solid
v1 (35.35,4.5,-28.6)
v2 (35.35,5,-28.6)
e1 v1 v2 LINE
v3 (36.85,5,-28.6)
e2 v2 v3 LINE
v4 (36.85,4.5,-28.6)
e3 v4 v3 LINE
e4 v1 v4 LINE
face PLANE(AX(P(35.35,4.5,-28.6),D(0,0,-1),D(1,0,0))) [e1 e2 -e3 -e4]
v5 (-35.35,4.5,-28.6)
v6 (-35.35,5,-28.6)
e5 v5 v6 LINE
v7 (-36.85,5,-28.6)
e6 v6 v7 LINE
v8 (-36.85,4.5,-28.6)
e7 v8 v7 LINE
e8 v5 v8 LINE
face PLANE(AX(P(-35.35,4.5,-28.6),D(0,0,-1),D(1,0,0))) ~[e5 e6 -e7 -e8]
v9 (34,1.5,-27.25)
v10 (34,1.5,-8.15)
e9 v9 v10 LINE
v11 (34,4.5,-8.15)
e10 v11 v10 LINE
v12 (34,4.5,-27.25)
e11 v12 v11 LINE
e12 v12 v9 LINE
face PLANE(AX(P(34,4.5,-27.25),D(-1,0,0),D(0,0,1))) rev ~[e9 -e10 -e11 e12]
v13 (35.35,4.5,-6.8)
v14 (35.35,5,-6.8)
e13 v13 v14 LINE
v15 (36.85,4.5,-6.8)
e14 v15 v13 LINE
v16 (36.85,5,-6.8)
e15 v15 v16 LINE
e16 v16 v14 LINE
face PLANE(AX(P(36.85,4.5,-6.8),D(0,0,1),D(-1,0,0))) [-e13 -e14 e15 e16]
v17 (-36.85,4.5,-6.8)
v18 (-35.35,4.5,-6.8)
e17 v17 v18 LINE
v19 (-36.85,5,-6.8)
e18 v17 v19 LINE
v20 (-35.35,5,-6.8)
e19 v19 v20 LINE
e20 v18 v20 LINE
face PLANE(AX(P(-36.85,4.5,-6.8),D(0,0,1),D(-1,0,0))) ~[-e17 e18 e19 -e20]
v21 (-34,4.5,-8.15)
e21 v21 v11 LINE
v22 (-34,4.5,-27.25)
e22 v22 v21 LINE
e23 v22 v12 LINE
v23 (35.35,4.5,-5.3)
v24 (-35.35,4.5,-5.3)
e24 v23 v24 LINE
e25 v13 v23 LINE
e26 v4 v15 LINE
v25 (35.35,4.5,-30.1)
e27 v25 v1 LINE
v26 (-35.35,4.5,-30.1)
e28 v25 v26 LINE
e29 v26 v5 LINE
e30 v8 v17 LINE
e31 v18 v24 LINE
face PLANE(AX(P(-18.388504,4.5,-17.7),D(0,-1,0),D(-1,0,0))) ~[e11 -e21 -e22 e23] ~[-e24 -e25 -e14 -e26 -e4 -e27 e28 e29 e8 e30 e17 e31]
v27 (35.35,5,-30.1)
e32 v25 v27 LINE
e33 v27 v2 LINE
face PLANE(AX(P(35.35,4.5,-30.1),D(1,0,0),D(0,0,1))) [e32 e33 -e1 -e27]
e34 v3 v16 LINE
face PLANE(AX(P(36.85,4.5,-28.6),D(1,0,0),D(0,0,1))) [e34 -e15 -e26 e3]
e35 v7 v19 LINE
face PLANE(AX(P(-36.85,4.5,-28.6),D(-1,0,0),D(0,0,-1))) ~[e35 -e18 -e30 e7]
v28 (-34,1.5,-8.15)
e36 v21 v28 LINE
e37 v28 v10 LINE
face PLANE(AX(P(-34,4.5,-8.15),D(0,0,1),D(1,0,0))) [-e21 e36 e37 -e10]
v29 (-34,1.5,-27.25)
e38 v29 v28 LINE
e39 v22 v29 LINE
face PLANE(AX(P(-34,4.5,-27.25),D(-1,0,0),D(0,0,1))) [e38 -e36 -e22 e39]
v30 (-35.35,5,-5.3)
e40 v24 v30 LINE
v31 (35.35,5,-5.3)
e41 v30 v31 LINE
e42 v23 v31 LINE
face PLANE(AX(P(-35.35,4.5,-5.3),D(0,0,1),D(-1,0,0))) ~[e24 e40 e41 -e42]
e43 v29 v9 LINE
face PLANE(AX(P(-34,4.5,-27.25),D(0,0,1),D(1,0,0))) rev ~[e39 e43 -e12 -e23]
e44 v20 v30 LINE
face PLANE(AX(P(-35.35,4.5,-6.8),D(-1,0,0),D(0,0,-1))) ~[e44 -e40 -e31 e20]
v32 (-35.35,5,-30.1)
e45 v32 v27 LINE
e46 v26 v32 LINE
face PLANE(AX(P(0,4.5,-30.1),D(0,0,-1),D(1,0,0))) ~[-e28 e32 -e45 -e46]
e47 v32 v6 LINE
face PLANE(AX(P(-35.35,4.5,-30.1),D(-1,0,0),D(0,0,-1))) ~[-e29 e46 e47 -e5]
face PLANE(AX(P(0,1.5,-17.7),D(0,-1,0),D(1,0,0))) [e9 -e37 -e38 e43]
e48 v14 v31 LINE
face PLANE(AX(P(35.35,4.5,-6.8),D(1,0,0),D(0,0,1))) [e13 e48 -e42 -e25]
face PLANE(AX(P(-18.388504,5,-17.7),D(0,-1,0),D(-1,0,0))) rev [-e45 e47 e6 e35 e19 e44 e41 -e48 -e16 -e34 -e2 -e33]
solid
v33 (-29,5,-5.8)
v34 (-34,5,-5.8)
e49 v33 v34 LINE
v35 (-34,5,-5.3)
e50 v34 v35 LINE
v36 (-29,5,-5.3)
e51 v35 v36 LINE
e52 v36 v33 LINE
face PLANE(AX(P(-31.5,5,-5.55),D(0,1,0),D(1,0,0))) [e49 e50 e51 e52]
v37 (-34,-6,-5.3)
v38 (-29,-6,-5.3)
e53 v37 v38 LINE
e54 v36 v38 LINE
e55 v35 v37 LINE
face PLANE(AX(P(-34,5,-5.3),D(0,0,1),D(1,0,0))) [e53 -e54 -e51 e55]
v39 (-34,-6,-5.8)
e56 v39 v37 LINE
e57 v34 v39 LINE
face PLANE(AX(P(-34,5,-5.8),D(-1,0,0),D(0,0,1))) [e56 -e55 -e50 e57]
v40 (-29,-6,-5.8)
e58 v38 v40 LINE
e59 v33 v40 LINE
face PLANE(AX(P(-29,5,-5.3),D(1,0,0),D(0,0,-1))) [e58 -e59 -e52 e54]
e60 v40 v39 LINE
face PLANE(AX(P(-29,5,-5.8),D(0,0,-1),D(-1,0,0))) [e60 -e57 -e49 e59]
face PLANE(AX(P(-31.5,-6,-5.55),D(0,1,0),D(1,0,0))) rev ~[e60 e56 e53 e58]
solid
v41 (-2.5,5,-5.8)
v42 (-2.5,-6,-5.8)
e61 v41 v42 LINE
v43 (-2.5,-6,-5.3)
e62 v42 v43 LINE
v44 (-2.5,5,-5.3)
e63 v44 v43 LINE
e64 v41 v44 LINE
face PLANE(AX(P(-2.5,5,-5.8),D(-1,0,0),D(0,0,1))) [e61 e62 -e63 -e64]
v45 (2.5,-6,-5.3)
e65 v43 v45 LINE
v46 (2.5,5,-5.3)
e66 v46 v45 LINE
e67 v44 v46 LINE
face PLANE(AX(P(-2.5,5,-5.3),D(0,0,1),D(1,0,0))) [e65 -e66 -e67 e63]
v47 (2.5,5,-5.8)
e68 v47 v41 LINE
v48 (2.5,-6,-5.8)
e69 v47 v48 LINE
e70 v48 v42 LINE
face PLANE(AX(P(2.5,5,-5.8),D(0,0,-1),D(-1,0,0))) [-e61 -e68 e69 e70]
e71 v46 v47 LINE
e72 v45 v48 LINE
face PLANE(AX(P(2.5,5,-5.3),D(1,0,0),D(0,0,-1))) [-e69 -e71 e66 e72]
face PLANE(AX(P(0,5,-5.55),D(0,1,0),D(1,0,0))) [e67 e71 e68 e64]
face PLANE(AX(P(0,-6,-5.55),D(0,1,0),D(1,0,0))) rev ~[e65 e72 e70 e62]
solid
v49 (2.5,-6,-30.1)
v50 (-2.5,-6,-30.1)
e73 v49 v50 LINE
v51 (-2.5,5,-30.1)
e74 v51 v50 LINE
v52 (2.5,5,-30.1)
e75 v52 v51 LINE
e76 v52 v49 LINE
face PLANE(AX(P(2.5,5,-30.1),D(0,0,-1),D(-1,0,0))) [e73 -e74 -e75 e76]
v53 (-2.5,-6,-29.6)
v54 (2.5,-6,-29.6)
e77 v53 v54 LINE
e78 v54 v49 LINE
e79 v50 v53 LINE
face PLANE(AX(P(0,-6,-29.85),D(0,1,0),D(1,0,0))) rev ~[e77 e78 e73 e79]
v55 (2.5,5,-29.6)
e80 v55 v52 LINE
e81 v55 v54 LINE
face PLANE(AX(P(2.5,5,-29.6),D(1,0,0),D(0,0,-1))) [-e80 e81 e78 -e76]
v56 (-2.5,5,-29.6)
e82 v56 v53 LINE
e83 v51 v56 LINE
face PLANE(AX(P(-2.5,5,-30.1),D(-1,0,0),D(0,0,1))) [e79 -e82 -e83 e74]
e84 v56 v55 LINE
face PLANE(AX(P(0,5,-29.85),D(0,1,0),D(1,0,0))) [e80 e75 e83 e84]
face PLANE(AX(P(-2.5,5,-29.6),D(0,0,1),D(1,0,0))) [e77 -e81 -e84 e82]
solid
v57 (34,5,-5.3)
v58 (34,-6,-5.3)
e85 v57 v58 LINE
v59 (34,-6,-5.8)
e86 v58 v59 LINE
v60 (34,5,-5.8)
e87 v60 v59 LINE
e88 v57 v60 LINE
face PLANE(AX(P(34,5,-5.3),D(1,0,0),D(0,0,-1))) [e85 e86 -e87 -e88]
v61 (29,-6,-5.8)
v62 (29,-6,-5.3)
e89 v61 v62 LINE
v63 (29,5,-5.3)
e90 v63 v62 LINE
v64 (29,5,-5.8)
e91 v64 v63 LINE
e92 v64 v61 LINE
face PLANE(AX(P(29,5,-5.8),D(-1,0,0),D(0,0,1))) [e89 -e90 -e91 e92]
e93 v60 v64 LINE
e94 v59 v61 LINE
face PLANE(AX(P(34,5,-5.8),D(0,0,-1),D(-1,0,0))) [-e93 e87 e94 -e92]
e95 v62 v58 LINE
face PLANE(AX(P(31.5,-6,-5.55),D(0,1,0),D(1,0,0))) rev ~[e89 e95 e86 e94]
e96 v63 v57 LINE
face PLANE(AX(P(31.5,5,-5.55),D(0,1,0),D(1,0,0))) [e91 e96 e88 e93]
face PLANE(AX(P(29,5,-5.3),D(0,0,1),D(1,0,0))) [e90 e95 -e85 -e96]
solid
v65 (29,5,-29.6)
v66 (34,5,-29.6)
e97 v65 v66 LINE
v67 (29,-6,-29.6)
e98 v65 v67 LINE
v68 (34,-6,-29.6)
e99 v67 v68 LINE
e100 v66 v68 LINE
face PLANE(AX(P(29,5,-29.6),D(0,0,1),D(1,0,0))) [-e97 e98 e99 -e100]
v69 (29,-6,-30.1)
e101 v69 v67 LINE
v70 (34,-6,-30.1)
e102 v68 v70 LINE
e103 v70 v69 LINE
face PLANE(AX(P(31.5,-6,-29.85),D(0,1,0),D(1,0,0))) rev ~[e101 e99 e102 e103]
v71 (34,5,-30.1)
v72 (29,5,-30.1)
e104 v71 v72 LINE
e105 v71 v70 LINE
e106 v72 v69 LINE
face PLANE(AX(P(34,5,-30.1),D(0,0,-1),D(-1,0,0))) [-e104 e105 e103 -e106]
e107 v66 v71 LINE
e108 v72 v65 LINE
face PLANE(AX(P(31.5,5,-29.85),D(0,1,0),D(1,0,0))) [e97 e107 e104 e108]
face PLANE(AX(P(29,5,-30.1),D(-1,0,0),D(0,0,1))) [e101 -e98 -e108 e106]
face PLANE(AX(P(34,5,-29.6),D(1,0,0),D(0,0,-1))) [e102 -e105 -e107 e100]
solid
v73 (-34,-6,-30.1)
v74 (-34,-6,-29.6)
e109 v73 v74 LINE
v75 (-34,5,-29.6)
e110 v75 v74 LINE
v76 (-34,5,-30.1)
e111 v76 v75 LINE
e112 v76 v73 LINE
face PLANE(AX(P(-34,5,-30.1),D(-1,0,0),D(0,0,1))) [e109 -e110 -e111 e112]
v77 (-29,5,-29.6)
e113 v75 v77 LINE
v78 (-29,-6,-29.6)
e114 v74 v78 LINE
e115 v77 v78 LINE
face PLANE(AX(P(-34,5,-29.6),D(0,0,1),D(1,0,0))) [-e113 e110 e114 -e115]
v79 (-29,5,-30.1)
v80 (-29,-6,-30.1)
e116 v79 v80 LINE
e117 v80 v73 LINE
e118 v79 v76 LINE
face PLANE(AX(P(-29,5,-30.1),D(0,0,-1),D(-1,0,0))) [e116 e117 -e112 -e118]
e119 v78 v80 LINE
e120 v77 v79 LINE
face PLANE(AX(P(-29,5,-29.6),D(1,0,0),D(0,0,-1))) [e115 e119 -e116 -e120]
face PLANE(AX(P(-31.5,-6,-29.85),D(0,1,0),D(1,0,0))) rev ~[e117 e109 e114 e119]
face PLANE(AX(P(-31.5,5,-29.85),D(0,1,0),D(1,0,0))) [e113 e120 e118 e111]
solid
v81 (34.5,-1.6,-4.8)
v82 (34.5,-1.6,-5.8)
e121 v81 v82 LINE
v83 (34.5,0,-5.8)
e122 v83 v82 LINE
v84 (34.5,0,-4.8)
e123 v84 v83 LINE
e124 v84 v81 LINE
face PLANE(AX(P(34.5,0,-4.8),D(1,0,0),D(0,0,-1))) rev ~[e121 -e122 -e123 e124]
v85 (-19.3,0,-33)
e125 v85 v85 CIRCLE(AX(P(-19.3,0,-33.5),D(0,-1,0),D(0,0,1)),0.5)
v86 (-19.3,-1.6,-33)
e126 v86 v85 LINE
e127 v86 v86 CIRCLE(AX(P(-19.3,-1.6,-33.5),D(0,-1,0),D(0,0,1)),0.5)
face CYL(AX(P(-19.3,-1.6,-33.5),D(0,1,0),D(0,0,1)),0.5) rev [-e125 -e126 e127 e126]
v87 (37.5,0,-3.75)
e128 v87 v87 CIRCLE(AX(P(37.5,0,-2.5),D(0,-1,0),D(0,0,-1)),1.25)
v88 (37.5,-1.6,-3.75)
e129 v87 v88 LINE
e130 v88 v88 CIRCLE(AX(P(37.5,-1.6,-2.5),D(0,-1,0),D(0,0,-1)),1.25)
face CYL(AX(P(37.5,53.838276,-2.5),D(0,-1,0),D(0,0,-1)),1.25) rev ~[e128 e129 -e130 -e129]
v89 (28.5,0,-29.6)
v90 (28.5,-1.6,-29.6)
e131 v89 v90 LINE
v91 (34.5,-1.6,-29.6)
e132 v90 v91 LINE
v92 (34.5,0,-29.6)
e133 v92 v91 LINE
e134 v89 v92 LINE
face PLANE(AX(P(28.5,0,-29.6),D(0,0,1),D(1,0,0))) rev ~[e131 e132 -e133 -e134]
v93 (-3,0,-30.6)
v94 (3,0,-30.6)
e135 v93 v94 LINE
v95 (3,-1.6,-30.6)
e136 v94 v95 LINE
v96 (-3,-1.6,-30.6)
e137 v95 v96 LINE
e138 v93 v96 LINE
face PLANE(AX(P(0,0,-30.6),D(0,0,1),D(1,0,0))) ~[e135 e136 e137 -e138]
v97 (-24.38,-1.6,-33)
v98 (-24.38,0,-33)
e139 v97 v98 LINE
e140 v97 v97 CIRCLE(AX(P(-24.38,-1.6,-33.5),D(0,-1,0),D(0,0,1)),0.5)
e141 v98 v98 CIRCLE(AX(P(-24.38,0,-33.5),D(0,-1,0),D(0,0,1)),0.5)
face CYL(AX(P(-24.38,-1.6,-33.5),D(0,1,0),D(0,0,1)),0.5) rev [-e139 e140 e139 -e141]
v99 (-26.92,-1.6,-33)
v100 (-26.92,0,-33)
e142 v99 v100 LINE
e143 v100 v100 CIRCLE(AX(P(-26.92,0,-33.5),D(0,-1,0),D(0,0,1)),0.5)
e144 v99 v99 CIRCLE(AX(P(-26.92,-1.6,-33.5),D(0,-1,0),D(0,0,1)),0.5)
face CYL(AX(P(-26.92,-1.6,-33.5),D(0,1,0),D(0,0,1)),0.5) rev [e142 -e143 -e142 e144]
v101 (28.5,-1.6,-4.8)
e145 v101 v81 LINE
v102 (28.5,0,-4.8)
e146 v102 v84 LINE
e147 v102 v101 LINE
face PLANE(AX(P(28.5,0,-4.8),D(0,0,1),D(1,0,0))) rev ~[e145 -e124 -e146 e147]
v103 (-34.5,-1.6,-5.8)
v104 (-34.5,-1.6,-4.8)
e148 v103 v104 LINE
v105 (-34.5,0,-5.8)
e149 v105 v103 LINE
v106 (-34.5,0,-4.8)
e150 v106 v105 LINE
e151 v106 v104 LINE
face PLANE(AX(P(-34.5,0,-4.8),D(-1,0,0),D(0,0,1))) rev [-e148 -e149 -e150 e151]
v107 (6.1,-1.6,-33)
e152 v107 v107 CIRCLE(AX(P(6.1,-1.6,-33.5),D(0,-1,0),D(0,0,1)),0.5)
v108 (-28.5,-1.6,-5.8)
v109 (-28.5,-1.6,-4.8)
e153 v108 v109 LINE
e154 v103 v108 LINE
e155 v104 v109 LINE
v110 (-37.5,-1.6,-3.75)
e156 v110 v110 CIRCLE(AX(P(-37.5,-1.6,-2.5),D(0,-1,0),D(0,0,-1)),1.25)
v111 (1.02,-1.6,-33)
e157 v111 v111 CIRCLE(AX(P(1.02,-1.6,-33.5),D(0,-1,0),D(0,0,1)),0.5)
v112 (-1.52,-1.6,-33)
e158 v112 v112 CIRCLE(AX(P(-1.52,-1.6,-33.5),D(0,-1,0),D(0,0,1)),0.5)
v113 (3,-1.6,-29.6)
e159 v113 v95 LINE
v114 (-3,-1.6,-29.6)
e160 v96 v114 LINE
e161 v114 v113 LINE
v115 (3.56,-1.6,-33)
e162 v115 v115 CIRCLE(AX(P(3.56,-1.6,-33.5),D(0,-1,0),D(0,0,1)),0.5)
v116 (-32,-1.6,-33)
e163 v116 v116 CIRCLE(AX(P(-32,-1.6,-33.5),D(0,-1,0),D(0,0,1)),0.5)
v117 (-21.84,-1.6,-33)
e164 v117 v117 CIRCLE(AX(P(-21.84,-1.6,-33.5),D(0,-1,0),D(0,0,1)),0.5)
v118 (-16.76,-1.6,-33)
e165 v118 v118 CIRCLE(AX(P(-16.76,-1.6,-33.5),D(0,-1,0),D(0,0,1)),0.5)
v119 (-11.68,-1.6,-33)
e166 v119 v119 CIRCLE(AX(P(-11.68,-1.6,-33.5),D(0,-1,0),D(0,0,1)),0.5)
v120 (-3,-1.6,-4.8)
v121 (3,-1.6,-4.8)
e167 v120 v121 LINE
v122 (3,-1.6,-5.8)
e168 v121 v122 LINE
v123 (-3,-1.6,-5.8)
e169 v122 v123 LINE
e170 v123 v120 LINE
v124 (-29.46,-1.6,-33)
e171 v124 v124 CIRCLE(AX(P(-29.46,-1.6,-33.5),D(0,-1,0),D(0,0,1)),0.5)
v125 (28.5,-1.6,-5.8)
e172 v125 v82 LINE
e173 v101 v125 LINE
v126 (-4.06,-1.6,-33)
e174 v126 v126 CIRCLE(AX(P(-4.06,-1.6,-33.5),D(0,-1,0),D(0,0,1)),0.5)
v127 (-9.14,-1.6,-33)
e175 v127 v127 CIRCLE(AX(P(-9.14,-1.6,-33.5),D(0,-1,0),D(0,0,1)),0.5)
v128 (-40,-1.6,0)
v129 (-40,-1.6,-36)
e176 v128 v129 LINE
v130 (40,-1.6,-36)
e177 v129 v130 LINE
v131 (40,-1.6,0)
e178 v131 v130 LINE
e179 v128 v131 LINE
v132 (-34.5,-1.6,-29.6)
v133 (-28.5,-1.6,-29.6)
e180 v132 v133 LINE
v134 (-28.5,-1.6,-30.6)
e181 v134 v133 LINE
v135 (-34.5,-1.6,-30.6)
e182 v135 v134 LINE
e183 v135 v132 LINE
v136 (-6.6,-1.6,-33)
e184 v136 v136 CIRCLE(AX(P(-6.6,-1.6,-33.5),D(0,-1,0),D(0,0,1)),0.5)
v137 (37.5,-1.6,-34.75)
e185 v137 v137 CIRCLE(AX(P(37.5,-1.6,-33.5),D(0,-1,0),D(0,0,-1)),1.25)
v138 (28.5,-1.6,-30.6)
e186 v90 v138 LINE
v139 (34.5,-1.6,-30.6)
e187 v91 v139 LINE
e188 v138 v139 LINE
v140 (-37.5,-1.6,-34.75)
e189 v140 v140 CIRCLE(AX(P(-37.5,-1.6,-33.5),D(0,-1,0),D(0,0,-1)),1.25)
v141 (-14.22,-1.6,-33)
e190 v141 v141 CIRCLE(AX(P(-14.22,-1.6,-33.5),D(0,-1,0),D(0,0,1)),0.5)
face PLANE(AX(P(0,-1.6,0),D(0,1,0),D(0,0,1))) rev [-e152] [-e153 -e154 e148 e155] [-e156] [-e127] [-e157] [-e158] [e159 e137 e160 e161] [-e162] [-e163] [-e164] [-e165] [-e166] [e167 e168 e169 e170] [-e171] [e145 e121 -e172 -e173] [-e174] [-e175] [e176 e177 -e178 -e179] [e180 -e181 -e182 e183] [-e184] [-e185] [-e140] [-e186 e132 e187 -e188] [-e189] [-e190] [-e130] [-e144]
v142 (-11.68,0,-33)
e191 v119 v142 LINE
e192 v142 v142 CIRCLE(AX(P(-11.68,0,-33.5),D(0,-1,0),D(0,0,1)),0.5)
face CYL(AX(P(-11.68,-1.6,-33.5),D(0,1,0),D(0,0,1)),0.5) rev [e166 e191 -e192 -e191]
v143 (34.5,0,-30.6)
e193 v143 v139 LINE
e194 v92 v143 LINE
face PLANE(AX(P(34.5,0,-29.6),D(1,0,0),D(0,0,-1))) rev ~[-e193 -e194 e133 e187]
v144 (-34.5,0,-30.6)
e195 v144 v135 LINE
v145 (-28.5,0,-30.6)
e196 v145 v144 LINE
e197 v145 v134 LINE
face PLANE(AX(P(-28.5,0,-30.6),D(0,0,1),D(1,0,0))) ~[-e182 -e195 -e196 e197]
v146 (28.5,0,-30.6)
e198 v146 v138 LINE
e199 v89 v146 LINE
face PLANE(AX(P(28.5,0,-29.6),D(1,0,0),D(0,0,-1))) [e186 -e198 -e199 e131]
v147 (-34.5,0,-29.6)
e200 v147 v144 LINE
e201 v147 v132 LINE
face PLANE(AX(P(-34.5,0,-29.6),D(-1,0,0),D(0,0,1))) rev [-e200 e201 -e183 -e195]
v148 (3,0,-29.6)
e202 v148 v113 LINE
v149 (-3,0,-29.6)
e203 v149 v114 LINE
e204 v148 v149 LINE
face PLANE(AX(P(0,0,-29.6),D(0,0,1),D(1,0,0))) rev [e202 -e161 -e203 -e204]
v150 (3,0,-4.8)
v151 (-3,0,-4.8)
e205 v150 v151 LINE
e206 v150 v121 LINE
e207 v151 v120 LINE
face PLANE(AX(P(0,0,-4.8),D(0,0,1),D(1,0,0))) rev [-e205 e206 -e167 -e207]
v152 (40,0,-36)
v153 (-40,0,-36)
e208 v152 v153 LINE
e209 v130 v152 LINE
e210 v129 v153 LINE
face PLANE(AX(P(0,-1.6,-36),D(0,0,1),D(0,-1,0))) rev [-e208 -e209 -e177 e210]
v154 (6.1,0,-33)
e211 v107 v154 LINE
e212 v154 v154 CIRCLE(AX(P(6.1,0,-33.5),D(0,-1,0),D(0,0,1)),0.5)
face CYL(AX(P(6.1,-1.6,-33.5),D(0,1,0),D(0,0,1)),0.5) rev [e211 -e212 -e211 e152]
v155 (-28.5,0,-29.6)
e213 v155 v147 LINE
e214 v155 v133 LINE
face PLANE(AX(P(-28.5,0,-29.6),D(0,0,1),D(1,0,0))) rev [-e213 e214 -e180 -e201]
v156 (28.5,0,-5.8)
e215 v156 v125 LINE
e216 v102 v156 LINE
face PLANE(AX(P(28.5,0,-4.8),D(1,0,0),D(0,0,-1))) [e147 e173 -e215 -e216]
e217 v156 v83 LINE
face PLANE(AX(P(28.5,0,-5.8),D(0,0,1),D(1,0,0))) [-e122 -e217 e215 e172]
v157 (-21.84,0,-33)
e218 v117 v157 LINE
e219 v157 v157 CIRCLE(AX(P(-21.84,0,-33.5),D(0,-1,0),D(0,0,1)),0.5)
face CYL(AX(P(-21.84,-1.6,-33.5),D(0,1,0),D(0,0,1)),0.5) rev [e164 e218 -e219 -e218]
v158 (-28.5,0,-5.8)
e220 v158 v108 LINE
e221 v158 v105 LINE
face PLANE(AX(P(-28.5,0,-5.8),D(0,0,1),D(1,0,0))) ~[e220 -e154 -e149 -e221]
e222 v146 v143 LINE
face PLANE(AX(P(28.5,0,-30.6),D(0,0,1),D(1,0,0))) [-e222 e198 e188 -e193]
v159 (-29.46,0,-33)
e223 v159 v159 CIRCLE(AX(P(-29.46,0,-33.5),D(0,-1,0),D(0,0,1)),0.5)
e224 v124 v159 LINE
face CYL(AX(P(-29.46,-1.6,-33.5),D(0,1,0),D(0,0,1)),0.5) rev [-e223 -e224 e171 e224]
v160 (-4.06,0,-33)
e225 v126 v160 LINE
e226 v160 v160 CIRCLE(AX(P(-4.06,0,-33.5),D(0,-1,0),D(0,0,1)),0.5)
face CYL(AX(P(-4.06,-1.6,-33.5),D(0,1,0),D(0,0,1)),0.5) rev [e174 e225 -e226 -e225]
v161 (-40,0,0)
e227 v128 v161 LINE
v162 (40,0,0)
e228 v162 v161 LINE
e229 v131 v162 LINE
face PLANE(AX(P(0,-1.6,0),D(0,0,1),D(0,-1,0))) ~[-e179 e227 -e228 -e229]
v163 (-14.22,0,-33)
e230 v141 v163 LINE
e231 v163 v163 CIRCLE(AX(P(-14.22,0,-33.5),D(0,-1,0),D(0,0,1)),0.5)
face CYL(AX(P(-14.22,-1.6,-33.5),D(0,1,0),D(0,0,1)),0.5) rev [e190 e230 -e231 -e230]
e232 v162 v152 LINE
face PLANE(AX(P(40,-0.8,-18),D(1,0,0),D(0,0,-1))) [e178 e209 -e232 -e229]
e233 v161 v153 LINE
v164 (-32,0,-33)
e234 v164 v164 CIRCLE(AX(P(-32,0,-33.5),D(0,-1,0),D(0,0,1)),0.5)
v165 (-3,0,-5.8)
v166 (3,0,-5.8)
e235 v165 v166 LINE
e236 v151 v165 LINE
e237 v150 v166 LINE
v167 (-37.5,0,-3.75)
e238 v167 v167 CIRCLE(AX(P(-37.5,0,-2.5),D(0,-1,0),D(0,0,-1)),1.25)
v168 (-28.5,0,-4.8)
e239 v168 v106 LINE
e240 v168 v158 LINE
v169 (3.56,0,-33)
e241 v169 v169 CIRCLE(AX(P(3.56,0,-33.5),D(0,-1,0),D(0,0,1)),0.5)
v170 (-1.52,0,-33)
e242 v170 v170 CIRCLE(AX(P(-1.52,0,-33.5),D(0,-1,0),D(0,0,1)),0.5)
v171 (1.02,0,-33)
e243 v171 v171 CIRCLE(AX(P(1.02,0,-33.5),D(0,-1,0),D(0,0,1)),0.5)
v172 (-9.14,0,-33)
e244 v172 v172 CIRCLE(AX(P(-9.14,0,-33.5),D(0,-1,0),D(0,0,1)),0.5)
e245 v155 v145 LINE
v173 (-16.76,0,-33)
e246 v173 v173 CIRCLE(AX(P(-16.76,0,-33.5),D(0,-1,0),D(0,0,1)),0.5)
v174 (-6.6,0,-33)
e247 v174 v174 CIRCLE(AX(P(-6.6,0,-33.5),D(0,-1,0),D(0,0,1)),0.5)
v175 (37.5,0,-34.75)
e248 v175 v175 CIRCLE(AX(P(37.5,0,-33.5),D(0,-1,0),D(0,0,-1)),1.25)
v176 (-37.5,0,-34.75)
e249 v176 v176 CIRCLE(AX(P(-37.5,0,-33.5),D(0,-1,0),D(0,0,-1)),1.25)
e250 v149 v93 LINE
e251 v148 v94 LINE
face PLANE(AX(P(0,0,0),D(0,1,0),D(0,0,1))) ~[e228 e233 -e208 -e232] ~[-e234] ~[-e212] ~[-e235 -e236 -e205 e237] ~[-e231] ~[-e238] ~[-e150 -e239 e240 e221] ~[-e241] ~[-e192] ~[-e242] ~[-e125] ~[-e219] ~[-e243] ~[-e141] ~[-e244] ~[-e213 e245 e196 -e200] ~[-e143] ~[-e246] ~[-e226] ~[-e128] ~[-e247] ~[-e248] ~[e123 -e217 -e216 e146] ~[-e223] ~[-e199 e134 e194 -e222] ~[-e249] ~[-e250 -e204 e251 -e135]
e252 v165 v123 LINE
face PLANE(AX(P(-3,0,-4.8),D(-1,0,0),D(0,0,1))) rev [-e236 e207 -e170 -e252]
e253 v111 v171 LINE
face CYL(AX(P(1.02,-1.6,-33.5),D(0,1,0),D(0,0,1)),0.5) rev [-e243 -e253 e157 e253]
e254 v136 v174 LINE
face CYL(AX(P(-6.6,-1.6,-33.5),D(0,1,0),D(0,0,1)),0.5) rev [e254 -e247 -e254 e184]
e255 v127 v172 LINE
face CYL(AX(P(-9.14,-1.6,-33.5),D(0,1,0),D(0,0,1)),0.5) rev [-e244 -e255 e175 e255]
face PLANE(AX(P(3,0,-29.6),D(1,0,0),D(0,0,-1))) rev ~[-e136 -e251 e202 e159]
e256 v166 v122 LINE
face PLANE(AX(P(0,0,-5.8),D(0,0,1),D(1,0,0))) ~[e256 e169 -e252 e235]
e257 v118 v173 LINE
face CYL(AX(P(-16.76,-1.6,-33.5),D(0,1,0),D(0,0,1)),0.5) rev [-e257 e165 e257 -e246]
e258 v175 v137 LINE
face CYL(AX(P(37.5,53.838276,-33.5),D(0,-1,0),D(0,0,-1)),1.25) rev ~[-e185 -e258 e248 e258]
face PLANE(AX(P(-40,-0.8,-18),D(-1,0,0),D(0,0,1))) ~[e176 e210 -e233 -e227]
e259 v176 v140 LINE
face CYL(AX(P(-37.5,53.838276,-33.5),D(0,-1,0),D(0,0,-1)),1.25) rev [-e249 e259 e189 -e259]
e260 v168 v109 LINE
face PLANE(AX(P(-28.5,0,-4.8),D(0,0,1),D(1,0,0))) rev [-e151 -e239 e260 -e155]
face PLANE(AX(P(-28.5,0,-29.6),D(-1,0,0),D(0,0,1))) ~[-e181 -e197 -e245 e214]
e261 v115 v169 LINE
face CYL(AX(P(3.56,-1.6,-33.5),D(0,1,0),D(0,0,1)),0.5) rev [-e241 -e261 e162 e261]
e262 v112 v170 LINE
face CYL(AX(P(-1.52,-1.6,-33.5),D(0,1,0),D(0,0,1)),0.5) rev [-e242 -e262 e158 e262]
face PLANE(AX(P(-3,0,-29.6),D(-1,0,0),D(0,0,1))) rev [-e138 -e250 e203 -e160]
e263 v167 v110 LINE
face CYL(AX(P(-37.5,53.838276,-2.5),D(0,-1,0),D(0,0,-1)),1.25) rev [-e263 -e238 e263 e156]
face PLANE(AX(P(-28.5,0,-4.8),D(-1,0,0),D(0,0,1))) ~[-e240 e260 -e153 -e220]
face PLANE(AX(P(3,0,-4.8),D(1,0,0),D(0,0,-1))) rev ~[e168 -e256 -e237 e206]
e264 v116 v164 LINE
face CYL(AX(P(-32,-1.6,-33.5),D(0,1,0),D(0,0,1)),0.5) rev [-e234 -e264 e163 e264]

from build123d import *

# Parameters (mm, degrees)
SKIZZE1_W                        = 36
SKIZZE1_H                        = 1.6
LINEAR_AUSTRAGEN1_DEPTH          = 40
F_2_5_2_5_DURCHMESSER_BOHRUNG1_D = 2.5
SKIZZE7_W                        = 3
SKIZZE7_H                        = 1
SKIZZE7_W_2                      = 6
LINEAR_AUSTRAGEN4_DEPTH          = 2.6
LINEAR_START                     = 4.5
LINEAR_AUSTRAGEN2_DEPTH          = 0.5
LINEAR_AUSTRAGEN3_DEPTH          = 11
LINEAR_AUSTRAGEN3_2_DEPTH        = 11
LINEAR_AUSTRAGEN3_3_DEPTH        = 11
LINEAR_AUSTRAGEN3_4_DEPTH        = 11
LINEAR_AUSTRAGEN3_5_DEPTH        = 11
LINEAR_AUSTRAGEN3_6_DEPTH        = 11
SKIZZE8_W                        = 68
SKIZZE8_H                        = 19.1
LINEAR_AUSTRAGEN5_DEPTH          = 3
LINEARES_MUSTER1_COUNT           = 16
LINEARES_MUSTER1_PITCH           = 2.54


with BuildPart() as part:
    # Skizze1 → Linear austragen1 (new body)
    with BuildSketch(Plane(origin=(0, 0, 0), x_dir=(0, 0, -1), z_dir=(1, 0, 0))):
        with Locations((18, -0.8)):
            Rectangle(SKIZZE1_W, SKIZZE1_H)
    linear_austragen1 = extrude(amount=LINEAR_AUSTRAGEN1_DEPTH)

    # Ø2.5 (2.5) Durchmesser Bohrung1 (through all)
    with Locations(Plane(origin=(37.5, 0, -2.5), x_dir=(0, 0, 1), z_dir=(0, 1, 0))):
        with Locations((0, 0), (-31, 0)):
            f_2_5_2_5_durchmesser_bohrung1 = Hole(F_2_5_2_5_DURCHMESSER_BOHRUNG1_D / 2)

    # Skizze7 → Linear austragen4 (cut, through all)
    with BuildSketch(Plane(origin=(0, 0, 0), x_dir=(1, 0, 0), z_dir=(0, 1, 0))):
        with Locations((1.5, 30.1)):
            Rectangle(SKIZZE7_W, SKIZZE7_H)
        with Locations((31.5, 30.1)):
            Rectangle(SKIZZE7_W_2, SKIZZE7_H)
        with Locations((31.5, 5.3)):
            Rectangle(SKIZZE7_W_2, SKIZZE7_H)
        with Locations((1.5, 5.3)):
            Rectangle(SKIZZE7_W, SKIZZE7_H)
    linear_austragen4 = extrude(amount=-LINEAR_AUSTRAGEN4_DEPTH, mode=Mode.SUBTRACT)

    # Spiegeln1: Linear austragen1, Ø2.5 (2.5) Durchmesser Bohrung1, Linear austragen4 across plane
    add(linear_austragen1.mirror(Plane(origin=(0, -1.6, 0), x_dir=(0, 0, 1), z_dir=(1, 0, 0))))
    add(f_2_5_2_5_durchmesser_bohrung1.mirror(Plane(origin=(0, -1.6, 0), x_dir=(0, 0, 1), z_dir=(1, 0, 0))), mode=Mode.SUBTRACT)
    add(linear_austragen4.mirror(Plane(origin=(0, -1.6, 0), x_dir=(0, 0, 1), z_dir=(1, 0, 0))), mode=Mode.SUBTRACT)

    # Skizze9 → Ø1.0 (1) Durchmesser Bohrung1 (revolve, cut)
    with BuildSketch(Plane(origin=(-32, 0, -33.5), x_dir=(0, 0, 1), z_dir=(1, 0, 0))):
        Polygon((0, 0), (0, 1.90043031), (0.5, 1.6), (0.5, 0), align=None)
    f_1_0_1_durchmesser_bohrung1 = revolve(axis=Axis((-32, 6.35, -33.5), (0, -1, 0)), mode=Mode.SUBTRACT)

    # Lineares Muster1: Ø1.0 (1) Durchmesser Bohrung1 ×16
    with Locations(*[(i * LINEARES_MUSTER1_PITCH, 0, 0) for i in range(1, LINEARES_MUSTER1_COUNT)]):
        add(f_1_0_1_durchmesser_bohrung1, mode=Mode.SUBTRACT)


with BuildPart() as body_2:
    # Skizze5 → Linear austragen2 (new body)
    with BuildSketch(Plane(origin=(0, 0, 0), x_dir=(1, 0, 0), z_dir=(0, 1, 0)).offset(LINEAR_START)):
        Polygon((0, 30.1), (35.35, 30.1), (35.35, 28.6), (36.85, 28.6), (36.85, 6.8), (35.35, 6.8), (35.35, 5.3), (0, 5.3), align=None)
    linear_austragen2 = extrude(amount=LINEAR_AUSTRAGEN2_DEPTH)

    # Spiegeln8: Linear austragen2 across plane
    add(linear_austragen2.mirror(Plane(origin=(0, 5, -5.3), x_dir=(0, 0, 1), z_dir=(1, 0, 0))))

    # Skizze8 → Linear austragen5 (add)
    with BuildSketch(Plane.XZ.offset(-4.5)):
        with Locations((0, -17.7)):
            Rectangle(SKIZZE8_W, SKIZZE8_H)
    extrude(amount=LINEAR_AUSTRAGEN5_DEPTH)


with BuildPart() as body_3:
    # Skizze6 → Linear austragen3 (new body)
    with BuildSketch(Plane(origin=(0, 5, 0), x_dir=(1, 0, 0), z_dir=(0, 1, 0))):
        Polygon((2.5, 30.1), (0, 30.1), (-2.5, 30.1), (-2.5, 29.6), (2.5, 29.6), align=None)
    extrude(amount=-LINEAR_AUSTRAGEN3_DEPTH)


with BuildPart() as body_4:
    # Skizze6 → Linear austragen3 2 (new body)
    with BuildSketch(Plane(origin=(0, 5, 0), x_dir=(1, 0, 0), z_dir=(0, 1, 0))):
        Polygon((0, 5.3), (2.5, 5.3), (2.5, 5.8), (-2.5, 5.8), (-2.5, 5.3), align=None)
    extrude(amount=-LINEAR_AUSTRAGEN3_2_DEPTH)


with BuildPart() as body_5:
    # Skizze6 → Linear austragen3 3 (new body)
    with BuildSketch(Plane(origin=(0, 5, 0), x_dir=(1, 0, 0), z_dir=(0, 1, 0))):
        Polygon((34, 30.1), (31.5, 30.1), (29, 30.1), (29, 29.6), (34, 29.6), align=None)
    extrude(amount=-LINEAR_AUSTRAGEN3_3_DEPTH)


with BuildPart() as body_6:
    # Skizze6 → Linear austragen3 4 (new body)
    with BuildSketch(Plane(origin=(0, 5, 0), x_dir=(1, 0, 0), z_dir=(0, 1, 0))):
        Polygon((31.5, 5.3), (34, 5.3), (34, 5.8), (29, 5.8), (29, 5.3), align=None)
    extrude(amount=-LINEAR_AUSTRAGEN3_4_DEPTH)


with BuildPart() as body_7:
    # Skizze6 → Linear austragen3 5 (new body)
    with BuildSketch(Plane(origin=(0, 5, 0), x_dir=(1, 0, 0), z_dir=(0, 1, 0))):
        Polygon((-29, 30.1), (-31.5, 30.1), (-34, 30.1), (-34, 29.6), (-29, 29.6), align=None)
    extrude(amount=-LINEAR_AUSTRAGEN3_5_DEPTH)


with BuildPart() as body_8:
    # Skizze6 → Linear austragen3 6 (new body)
    with BuildSketch(Plane(origin=(0, 5, 0), x_dir=(1, 0, 0), z_dir=(0, 1, 0))):
        Polygon((-31.5, 5.3), (-29, 5.3), (-29, 5.8), (-34, 5.8), (-34, 5.3), align=None)
    extrude(amount=-LINEAR_AUSTRAGEN3_6_DEPTH)


solid = Compound([part.part, body_2.part, body_3.part, body_4.part, body_5.part, body_6.part, body_7.part, body_8.part])
